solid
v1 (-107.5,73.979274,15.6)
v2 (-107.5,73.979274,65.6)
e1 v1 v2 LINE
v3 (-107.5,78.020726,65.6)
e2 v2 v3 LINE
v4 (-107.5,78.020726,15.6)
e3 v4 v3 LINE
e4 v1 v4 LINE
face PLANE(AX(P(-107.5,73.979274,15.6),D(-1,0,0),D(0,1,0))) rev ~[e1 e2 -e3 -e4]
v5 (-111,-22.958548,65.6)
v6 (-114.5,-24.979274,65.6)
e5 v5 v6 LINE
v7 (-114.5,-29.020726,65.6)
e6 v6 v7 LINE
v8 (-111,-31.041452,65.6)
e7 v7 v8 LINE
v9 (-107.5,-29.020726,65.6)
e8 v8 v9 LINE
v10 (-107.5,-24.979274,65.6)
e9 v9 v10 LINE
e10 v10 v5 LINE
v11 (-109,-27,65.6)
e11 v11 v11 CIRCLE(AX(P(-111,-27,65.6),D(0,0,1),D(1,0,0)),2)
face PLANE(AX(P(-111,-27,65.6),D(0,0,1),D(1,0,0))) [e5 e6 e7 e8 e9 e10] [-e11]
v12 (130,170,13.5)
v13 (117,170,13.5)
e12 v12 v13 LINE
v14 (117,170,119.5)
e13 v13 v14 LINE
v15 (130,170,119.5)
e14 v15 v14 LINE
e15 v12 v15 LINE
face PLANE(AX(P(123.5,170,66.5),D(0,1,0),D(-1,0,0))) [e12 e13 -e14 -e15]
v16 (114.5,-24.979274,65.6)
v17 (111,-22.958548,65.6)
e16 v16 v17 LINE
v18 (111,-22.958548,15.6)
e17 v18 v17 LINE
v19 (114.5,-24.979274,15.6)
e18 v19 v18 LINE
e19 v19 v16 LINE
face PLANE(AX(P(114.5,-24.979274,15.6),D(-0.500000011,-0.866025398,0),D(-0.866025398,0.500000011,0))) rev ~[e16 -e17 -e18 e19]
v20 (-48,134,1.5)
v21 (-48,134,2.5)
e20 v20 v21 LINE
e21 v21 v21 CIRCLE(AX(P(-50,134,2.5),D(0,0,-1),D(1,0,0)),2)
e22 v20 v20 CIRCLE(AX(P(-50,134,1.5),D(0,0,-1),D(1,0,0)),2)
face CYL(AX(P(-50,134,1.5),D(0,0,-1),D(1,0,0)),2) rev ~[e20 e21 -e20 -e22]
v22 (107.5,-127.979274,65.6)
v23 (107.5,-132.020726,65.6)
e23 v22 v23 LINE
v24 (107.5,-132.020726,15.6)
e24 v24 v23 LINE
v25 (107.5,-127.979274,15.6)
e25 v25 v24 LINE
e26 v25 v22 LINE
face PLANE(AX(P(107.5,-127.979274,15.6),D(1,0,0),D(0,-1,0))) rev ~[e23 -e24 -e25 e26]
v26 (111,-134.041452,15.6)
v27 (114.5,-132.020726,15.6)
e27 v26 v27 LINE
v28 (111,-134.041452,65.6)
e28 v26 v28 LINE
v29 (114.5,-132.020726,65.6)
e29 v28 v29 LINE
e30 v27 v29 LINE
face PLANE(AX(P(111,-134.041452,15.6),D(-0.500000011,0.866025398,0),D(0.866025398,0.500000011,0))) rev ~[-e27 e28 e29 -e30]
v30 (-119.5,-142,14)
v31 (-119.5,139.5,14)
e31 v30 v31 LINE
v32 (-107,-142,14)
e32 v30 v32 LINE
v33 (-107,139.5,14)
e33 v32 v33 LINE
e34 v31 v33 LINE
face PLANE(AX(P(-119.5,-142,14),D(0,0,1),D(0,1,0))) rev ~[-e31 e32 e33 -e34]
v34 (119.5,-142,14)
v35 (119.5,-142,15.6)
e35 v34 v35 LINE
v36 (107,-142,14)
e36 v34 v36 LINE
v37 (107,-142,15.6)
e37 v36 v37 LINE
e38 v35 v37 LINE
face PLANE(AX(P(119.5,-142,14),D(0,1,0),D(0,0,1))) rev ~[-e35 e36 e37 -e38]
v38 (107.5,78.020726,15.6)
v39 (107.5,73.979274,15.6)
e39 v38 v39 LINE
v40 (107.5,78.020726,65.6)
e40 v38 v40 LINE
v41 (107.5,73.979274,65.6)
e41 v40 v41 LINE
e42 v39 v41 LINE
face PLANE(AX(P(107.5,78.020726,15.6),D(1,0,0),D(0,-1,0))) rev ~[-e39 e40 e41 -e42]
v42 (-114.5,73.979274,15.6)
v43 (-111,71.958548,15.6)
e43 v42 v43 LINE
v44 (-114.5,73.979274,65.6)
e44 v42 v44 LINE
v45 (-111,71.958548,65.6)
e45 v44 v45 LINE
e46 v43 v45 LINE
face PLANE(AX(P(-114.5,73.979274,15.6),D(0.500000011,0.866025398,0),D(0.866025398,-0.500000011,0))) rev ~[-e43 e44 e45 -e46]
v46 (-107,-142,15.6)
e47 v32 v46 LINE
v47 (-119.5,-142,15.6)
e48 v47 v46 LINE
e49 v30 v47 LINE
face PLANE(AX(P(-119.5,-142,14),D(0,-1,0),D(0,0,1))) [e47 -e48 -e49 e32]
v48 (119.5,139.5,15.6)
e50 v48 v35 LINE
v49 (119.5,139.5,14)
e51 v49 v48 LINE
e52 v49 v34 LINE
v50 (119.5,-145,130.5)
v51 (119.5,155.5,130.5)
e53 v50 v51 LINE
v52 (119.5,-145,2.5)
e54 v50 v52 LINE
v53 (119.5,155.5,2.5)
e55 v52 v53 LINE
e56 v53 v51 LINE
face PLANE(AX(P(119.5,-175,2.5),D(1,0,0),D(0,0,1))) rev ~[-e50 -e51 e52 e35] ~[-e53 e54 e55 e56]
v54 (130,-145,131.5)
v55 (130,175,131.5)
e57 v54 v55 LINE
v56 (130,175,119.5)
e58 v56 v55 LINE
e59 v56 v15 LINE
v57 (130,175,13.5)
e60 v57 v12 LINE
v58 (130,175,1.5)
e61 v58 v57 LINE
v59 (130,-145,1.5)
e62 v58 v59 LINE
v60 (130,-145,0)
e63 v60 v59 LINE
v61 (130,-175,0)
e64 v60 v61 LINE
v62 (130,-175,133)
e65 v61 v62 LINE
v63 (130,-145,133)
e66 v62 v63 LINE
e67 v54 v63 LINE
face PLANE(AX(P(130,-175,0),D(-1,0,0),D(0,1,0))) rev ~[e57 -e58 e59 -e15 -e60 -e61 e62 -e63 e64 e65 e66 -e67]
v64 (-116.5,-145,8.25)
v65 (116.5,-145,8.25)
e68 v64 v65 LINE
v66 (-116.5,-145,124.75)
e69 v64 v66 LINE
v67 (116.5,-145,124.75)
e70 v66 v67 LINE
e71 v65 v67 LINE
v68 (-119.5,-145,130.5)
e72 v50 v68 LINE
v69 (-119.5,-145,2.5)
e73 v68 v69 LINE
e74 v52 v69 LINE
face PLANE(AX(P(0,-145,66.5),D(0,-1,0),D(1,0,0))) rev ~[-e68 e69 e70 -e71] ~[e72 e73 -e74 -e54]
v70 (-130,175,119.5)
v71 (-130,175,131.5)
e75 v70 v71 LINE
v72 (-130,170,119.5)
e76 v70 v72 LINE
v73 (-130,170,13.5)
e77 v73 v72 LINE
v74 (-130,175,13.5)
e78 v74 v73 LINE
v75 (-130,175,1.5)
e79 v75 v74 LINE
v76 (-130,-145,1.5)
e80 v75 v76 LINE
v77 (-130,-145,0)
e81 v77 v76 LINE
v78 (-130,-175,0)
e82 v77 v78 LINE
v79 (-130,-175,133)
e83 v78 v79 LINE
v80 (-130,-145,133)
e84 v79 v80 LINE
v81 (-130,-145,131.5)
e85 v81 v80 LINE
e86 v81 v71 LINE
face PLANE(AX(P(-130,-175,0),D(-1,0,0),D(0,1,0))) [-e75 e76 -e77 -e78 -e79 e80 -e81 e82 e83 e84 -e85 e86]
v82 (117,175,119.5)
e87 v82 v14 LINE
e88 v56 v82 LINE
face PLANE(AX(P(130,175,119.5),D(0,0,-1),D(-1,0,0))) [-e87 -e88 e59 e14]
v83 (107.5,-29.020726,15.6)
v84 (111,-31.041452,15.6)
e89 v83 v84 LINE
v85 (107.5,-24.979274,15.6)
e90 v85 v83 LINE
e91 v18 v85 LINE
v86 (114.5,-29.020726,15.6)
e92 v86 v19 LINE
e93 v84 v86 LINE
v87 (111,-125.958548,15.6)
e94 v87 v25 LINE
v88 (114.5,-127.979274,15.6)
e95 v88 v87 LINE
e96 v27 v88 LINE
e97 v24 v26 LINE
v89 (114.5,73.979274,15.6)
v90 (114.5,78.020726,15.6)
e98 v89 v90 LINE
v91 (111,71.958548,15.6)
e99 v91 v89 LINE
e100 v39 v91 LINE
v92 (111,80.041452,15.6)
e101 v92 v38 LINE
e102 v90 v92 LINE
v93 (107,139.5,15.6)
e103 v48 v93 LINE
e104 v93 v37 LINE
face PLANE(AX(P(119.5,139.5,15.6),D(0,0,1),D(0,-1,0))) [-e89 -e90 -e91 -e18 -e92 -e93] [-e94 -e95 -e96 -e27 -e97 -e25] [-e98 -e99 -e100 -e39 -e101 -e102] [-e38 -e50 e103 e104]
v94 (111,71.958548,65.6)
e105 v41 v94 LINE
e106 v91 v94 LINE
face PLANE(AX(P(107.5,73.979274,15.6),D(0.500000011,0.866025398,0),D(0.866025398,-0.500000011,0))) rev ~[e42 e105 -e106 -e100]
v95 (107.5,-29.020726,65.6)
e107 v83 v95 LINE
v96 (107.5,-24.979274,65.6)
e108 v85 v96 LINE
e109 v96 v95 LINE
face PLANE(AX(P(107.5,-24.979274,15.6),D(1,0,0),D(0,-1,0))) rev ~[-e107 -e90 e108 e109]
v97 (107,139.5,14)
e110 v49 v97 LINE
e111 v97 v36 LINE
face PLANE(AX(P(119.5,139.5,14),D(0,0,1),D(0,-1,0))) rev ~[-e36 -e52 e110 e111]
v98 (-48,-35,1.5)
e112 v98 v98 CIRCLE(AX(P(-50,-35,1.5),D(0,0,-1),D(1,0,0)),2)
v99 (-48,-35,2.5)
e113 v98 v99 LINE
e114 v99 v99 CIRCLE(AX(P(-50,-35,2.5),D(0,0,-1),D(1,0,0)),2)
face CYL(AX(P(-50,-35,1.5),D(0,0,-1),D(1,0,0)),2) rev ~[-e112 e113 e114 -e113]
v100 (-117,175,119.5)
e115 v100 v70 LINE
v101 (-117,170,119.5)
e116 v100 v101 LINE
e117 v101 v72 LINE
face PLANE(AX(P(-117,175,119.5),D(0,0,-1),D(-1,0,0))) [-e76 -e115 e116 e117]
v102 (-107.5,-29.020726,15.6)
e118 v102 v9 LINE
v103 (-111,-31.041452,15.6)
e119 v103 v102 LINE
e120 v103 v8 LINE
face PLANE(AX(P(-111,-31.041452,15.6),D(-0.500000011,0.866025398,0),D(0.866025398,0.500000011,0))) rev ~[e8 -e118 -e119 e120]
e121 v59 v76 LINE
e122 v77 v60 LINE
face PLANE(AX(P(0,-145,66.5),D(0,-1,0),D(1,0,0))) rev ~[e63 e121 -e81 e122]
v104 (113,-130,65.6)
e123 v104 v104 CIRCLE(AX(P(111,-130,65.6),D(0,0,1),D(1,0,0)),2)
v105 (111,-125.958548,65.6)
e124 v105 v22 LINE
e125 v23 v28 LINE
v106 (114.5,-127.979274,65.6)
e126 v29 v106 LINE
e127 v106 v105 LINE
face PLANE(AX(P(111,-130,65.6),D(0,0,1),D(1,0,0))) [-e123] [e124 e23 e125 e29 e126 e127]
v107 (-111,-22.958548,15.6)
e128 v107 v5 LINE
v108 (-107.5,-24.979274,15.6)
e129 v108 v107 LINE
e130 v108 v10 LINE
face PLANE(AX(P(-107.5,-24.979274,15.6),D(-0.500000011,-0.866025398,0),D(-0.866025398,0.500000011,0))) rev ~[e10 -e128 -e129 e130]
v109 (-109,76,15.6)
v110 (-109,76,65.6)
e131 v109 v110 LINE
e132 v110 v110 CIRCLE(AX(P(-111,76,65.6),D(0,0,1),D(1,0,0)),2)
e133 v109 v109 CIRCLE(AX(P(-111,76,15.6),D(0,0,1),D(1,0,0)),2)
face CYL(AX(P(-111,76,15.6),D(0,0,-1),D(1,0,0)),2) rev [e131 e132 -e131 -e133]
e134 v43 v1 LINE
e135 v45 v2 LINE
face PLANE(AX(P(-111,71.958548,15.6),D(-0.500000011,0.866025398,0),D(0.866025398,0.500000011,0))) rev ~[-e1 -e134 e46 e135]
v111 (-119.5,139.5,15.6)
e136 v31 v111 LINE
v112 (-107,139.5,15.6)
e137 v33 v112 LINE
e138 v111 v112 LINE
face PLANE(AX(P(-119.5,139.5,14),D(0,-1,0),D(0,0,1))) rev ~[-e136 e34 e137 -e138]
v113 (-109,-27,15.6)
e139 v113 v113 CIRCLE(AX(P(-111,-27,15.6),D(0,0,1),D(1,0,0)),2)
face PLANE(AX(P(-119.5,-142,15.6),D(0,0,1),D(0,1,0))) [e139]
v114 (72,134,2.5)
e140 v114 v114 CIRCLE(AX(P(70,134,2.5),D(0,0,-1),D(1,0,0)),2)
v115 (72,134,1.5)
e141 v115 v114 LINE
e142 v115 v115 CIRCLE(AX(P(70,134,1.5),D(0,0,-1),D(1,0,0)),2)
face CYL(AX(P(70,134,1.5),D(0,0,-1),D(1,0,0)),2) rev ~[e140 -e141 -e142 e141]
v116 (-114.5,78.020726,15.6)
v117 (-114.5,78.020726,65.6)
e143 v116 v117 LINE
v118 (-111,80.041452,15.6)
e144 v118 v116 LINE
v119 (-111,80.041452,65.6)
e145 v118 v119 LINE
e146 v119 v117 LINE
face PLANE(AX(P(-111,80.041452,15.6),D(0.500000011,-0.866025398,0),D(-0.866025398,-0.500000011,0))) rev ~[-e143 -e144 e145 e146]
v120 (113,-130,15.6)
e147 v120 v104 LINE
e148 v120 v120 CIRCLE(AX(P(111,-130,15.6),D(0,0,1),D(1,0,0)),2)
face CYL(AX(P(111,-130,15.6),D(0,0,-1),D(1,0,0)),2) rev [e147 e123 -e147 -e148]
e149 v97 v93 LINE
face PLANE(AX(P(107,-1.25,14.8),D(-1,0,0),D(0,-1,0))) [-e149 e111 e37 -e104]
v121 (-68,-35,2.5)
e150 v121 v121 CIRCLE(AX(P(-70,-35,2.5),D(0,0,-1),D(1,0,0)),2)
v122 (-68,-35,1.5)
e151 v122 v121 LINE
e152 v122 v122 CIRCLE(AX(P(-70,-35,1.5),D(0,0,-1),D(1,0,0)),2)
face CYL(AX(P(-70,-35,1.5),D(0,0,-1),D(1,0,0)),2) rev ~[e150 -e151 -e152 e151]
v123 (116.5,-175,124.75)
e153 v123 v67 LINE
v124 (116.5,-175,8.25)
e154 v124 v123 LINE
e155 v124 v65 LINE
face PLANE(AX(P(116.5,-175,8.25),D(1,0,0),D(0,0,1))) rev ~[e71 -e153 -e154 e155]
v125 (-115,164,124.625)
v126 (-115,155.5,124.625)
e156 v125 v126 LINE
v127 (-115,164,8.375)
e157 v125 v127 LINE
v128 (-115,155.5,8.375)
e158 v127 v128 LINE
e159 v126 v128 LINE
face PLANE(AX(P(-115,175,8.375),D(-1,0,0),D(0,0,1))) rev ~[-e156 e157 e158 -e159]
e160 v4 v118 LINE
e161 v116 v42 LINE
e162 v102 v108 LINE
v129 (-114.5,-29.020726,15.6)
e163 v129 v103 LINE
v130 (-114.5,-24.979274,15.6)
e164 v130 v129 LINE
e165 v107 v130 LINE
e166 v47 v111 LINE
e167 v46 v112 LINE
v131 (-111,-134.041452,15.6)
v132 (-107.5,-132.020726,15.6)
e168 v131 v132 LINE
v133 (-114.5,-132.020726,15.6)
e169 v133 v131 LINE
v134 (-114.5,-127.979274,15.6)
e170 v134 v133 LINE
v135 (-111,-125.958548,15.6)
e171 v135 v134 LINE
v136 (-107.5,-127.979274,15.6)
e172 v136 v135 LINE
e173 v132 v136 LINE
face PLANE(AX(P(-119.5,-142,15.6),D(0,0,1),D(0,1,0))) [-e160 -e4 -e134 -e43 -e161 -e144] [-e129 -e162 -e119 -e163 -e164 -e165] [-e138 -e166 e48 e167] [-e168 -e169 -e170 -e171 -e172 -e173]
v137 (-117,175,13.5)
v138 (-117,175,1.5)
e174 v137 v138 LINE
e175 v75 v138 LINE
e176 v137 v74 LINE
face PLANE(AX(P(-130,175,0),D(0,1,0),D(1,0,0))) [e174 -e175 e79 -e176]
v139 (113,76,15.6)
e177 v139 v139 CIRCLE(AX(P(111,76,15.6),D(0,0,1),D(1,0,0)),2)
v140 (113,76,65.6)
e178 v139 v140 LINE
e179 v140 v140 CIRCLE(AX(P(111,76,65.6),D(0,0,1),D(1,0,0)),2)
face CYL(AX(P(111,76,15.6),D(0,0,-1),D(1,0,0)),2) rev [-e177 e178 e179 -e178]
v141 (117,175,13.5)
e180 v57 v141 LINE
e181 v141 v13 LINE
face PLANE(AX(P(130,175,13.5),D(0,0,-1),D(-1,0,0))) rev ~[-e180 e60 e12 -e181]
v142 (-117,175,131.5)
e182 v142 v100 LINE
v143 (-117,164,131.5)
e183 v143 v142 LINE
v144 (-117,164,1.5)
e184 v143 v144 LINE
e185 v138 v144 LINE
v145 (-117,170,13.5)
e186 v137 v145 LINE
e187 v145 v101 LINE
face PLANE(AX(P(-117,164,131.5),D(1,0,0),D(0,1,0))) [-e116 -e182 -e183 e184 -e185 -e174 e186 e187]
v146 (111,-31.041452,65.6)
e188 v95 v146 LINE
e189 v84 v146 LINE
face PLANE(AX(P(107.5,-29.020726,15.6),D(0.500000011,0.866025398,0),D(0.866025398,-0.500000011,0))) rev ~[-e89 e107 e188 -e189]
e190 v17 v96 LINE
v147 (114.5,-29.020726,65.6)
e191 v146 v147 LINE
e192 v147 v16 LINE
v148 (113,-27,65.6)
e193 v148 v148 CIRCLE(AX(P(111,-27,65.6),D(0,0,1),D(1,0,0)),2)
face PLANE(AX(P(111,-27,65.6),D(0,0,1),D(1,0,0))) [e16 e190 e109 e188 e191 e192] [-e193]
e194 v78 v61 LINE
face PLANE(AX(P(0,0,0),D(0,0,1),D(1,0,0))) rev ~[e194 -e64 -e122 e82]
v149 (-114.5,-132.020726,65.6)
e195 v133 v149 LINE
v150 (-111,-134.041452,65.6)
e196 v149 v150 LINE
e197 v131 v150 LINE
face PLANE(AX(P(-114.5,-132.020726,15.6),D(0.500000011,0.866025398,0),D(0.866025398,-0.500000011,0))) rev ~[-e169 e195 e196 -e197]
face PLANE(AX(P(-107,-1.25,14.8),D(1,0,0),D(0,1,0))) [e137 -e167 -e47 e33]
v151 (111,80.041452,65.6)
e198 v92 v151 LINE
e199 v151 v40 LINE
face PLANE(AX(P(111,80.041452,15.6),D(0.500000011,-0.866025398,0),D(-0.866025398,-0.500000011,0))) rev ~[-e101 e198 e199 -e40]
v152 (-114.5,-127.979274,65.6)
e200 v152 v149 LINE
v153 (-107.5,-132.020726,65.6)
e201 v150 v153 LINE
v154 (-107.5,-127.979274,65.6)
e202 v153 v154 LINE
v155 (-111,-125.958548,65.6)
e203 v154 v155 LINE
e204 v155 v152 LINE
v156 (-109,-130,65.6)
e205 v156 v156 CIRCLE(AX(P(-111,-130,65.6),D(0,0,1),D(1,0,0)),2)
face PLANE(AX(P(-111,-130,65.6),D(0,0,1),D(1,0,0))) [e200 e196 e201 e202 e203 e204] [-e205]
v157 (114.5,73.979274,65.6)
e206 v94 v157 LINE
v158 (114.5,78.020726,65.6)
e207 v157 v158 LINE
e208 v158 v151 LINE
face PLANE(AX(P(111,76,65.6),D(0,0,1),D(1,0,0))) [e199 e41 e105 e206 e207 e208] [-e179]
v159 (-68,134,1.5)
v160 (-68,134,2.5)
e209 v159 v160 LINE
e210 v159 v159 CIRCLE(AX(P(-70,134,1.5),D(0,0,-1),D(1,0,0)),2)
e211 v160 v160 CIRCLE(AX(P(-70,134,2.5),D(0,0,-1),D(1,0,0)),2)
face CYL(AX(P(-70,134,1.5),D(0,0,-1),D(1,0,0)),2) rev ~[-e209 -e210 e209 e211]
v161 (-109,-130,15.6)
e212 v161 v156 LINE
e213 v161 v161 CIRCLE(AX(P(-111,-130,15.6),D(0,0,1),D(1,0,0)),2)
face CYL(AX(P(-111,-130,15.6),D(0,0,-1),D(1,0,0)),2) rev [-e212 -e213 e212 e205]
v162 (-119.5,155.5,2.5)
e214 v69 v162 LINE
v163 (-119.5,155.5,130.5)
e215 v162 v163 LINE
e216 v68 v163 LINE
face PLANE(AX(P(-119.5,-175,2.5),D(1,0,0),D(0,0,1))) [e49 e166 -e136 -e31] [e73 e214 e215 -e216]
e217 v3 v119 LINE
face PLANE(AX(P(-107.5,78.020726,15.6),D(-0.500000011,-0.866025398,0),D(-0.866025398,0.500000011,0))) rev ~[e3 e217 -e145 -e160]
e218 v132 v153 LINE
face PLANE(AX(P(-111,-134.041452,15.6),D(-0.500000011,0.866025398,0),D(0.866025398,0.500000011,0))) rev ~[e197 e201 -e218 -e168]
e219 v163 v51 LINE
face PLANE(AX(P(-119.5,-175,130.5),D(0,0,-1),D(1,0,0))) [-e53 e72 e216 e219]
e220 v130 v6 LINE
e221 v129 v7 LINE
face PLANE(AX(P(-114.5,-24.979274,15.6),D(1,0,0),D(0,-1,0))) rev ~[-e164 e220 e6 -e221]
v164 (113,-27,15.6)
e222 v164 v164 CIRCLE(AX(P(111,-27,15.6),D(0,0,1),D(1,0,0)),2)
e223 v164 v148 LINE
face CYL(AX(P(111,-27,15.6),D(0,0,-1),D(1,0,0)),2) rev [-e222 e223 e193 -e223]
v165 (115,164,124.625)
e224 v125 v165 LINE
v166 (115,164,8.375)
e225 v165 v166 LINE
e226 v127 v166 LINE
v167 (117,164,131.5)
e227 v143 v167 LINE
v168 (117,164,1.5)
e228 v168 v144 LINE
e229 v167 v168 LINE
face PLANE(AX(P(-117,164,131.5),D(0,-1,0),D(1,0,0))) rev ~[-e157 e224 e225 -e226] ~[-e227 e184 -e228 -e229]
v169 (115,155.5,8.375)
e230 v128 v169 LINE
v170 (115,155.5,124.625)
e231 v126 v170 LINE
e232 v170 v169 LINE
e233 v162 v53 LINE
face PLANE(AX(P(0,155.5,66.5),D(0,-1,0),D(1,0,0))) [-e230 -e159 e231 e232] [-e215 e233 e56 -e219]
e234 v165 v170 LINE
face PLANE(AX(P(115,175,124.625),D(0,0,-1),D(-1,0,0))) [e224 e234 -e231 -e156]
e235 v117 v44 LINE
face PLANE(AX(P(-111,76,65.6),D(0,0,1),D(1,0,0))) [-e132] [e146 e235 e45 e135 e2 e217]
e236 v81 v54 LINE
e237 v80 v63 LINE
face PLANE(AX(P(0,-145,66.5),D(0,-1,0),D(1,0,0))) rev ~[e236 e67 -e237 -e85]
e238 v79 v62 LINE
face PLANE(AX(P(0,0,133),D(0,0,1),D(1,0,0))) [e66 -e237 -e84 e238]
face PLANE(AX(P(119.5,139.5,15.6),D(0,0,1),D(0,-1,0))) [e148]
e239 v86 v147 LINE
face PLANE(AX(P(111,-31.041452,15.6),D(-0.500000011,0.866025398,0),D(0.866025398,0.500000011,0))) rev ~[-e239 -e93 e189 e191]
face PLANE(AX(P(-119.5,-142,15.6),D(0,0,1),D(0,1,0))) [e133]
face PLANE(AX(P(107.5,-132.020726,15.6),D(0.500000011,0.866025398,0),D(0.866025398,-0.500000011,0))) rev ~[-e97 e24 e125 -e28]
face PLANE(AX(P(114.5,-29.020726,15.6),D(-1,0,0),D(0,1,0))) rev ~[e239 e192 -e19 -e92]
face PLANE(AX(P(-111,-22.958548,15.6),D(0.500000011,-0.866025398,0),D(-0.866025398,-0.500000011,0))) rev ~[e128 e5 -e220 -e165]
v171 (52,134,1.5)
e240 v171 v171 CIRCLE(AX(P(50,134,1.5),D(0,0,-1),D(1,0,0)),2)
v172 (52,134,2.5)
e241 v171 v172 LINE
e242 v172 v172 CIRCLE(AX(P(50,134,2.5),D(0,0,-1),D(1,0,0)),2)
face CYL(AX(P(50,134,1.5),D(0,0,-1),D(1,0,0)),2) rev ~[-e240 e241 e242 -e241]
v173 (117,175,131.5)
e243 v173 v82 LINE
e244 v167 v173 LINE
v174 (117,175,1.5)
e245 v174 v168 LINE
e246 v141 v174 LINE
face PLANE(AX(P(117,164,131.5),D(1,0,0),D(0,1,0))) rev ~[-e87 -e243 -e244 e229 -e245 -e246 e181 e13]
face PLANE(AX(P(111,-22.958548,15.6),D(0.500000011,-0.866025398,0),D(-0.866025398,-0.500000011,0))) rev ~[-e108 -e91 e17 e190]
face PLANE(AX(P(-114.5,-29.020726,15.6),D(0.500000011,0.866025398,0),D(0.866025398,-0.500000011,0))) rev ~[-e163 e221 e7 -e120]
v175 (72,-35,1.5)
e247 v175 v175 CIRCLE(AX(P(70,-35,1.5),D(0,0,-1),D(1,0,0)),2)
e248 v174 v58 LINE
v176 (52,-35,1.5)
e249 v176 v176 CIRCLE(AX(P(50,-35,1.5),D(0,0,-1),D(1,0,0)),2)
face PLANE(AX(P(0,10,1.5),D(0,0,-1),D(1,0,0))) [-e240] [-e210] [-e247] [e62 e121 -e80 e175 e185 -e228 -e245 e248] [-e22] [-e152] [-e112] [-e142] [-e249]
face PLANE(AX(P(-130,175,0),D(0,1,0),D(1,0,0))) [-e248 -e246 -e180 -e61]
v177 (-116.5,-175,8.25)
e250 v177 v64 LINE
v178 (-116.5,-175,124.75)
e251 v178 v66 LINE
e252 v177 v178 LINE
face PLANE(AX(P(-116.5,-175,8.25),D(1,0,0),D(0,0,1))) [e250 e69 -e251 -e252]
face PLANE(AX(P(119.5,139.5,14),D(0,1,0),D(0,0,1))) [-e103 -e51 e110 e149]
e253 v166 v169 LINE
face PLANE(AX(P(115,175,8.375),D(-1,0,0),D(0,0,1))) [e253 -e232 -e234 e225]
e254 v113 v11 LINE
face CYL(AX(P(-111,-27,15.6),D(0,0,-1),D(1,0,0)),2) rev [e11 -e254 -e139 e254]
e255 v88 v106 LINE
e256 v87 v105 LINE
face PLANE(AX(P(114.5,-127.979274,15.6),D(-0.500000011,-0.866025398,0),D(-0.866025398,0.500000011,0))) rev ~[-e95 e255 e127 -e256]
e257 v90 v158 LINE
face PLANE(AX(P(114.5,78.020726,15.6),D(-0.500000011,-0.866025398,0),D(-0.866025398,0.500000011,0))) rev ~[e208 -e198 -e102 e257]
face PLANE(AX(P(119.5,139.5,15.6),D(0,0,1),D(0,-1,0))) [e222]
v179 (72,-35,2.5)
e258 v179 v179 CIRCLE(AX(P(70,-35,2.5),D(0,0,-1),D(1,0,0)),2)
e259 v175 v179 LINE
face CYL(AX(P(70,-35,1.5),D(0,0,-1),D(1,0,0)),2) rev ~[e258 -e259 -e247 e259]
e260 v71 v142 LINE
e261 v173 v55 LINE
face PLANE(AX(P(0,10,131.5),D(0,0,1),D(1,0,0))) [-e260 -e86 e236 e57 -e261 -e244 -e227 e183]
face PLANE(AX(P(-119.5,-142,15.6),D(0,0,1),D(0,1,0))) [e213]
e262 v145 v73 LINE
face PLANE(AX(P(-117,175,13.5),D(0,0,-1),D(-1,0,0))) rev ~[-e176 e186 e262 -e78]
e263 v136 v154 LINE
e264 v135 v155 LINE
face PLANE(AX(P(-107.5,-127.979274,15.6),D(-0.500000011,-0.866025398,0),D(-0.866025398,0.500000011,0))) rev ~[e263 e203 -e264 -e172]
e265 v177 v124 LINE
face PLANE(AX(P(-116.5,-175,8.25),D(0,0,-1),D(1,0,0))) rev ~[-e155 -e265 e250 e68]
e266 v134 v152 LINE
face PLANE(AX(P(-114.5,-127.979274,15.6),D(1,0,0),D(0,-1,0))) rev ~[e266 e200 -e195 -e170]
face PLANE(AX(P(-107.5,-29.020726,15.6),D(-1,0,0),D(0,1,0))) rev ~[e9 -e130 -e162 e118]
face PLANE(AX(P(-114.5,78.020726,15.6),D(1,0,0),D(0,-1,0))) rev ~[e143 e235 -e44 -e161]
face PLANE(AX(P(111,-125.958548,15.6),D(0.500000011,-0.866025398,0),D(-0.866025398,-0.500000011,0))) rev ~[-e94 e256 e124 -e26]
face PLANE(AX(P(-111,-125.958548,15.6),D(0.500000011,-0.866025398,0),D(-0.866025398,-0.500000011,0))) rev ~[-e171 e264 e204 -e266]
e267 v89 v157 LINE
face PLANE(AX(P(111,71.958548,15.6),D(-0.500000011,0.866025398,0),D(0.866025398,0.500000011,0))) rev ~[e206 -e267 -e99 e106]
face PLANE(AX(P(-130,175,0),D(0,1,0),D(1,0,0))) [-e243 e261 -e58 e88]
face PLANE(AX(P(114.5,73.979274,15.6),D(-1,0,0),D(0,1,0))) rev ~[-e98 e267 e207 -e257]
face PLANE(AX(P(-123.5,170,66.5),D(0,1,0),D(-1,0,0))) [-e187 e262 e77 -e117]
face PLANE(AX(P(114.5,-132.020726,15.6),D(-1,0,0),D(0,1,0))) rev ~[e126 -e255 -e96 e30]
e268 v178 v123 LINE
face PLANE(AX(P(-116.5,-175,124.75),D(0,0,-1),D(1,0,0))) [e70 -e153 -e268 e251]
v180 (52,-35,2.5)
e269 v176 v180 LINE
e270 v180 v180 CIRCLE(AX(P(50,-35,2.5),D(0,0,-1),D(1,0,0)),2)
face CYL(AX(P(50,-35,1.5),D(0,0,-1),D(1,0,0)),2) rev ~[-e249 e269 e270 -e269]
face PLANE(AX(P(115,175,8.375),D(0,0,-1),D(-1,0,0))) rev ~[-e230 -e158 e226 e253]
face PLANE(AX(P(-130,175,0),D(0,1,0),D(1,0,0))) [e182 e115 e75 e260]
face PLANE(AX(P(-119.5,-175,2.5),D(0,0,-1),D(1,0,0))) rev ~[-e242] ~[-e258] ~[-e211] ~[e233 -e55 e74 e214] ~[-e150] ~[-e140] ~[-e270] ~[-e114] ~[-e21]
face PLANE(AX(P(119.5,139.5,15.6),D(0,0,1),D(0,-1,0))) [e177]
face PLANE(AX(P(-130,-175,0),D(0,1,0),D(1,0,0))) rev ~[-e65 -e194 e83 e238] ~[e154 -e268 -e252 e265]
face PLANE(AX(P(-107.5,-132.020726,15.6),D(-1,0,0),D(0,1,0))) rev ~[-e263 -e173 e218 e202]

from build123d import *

# Parameters (mm, degrees)
F0_W      = 260
F0_H      = 350
F1_DEPTH  = 133
F2_W      = 260
F2_H      = 330
F3_DEPTH  = 1.5
F4_W      = 260
F4_H      = 330
F5_DEPTH  = 1.5
F6_W      = 234
F6_H      = 11
F7_DEPTH  = 131.501
F10_R     = 2
F11_DEPTH = 25
F12_W     = 239
F12_H     = 128
F13_DEPTH = 330.5
F14_W     = 260
F14_H     = 133
F14_W_2   = 233
F14_H_2   = 116.5
F15_DEPTH = 30
F9_W      = 13
F9_H      = 106
F8_W      = 13
F8_H      = 106
F16_DEPTH = 5
F17_W     = 230
F17_H     = 116.25
F18_DEPTH = 25
F19_W     = 281.5
F19_H     = 1.6
F20_DEPTH = 12.5
F21_W     = 281.5
F21_H     = 1.6
F22_DEPTH = 12.5
F23_R     = 2
F24_DEPTH = 50


with BuildPart() as f1:
    # F0 (on Top) → F1 (new body)
    with BuildSketch(Plane.XY):
        Rectangle(F0_W, F0_H)
    extrude(amount=F1_DEPTH)

    # F2 (on face) → F3 (cut)
    with BuildSketch(Plane.XY.offset(133)):
        with Locations((0, 10)):
            Rectangle(F2_W, F2_H)
    extrude(amount=-F3_DEPTH, mode=Mode.SUBTRACT)

    # F4 (on face) → F5 (cut)
    with BuildSketch(Plane(origin=(0, 0, 0), x_dir=(1, 0, 0), z_dir=(0, 0, -1))):
        with Locations((0, -10)):
            Rectangle(F4_W, F4_H)
    extrude(amount=-F5_DEPTH, mode=Mode.SUBTRACT)

    # F6 (on face) → F7 (cut, through all)
    with BuildSketch(Plane.XY.offset(131.5)):
        with Locations((0, 169.5)):
            Rectangle(F6_W, F6_H)
    extrude(amount=-F7_DEPTH, mode=Mode.SUBTRACT)

    # F10 (on face) → F11 (cut)
    with BuildSketch(Plane(origin=(0, 0, 1.5), x_dir=(1, 0, 0), z_dir=(0, 0, -1))):
        with Locations((70, 35)):
            Circle(F10_R)
        with Locations((50, 35)):
            Circle(F10_R)
        with Locations((-70, 35)):
            Circle(F10_R)
        with Locations((-50, 35)):
            Circle(F10_R)
        with Locations((70, -134)):
            Circle(F10_R)
        with Locations((50, -134)):
            Circle(F10_R)
        with Locations((-50, -134)):
            Circle(F10_R)
        with Locations((-70, -134)):
            Circle(F10_R)
    extrude(amount=-F11_DEPTH, mode=Mode.SUBTRACT)

    # F12 (on face) → F13 (cut)
    with BuildSketch(Plane.XZ.offset(175)):
        with Locations((0, 66.5)):
            Rectangle(F12_W, F12_H)
    extrude(amount=-F13_DEPTH, mode=Mode.SUBTRACT)

    # F14 (on face) → F15 (join)
    with BuildSketch(Plane.XZ.offset(175)):
        with Locations((0, 66.5)):
            Rectangle(F14_W, F14_H)
        with Locations((0, 66.5)):
            Rectangle(F14_W_2, F14_H_2, mode=Mode.SUBTRACT)
    extrude(amount=-F15_DEPTH)

    # F9 (on face) + F8 (on face) → F16 (cut)
    with BuildSketch(Plane(origin=(0, 175, 0), x_dir=(-1, 0, 0), z_dir=(0, 1, 0))):
        with Locations((-123.5, 66.5)):
            Rectangle(F9_W, F9_H)
    with BuildSketch(Plane(origin=(0, 175, 0), x_dir=(-1, 0, 0), z_dir=(0, 1, 0))):
        with Locations((123.5, 66.5)):
            Rectangle(F8_W, F8_H)
    extrude(amount=-F16_DEPTH, mode=Mode.SUBTRACT)

    # F17 (on face) → F18 (cut)
    with BuildSketch(Plane(origin=(0, 175, 0), x_dir=(-1, 0, 0), z_dir=(0, 1, 0))):
        with Locations((0, 66.5)):
            Rectangle(F17_W, F17_H)
    extrude(amount=-F18_DEPTH, mode=Mode.SUBTRACT)

    # F19 (on face) → F20 (join)
    with BuildSketch(Plane.YZ.offset(-119.5)):
        with Locations((-1.25, 14.8)):
            Rectangle(F19_W, F19_H)
    extrude(amount=F20_DEPTH)

    # F21 (on face) → F22 (join)
    with BuildSketch(Plane(origin=(119.5, 0, 0), x_dir=(0, -1, 0), z_dir=(-1, 0, 0))):
        with Locations((1.25, 14.8)):
            Rectangle(F21_W, F21_H)
    extrude(amount=F22_DEPTH)

    # F23 (on face) → F24 (join)
    with BuildSketch(Plane.XY.offset(15.6)):
        Polygon((111, -134.041452), (114.5, -132.020726), (114.5, -127.979274), (111, -125.958548), (107.5, -127.979274), (107.5, -132.020726), align=None)
        with Locations((111, -130)):
            Circle(F23_R, mode=Mode.SUBTRACT)
        Polygon((111, 71.958548), (114.5, 73.979274), (114.5, 78.020726), (111, 80.041452), (107.5, 78.020726), (107.5, 73.979274), align=None)
        with Locations((111, 76)):
            Circle(F23_R, mode=Mode.SUBTRACT)
        Polygon((111, -31.041452), (114.5, -29.020726), (114.5, -24.979274), (111, -22.958548), (107.5, -24.979274), (107.5, -29.020726), align=None)
        with Locations((111, -27)):
            Circle(F23_R, mode=Mode.SUBTRACT)
        Polygon((-111, -134.041452), (-107.5, -132.020726), (-107.5, -127.979274), (-111, -125.958548), (-114.5, -127.979274), (-114.5, -132.020726), align=None)
        with Locations((-111, -130)):
            Circle(F23_R, mode=Mode.SUBTRACT)
        Polygon((-107.5, -29.020726), (-107.5, -24.979274), (-111, -22.958548), (-114.5, -24.979274), (-114.5, -29.020726), (-111, -31.041452), align=None)
        with Locations((-111, -27)):
            Circle(F23_R, mode=Mode.SUBTRACT)
        Polygon((-111, 71.958548), (-107.5, 73.979274), (-107.5, 78.020726), (-111, 80.041452), (-114.5, 78.020726), (-114.5, 73.979274), align=None)
        with Locations((-111, 76)):
            Circle(F23_R, mode=Mode.SUBTRACT)
    extrude(amount=F24_DEPTH)


solid = f1.part
